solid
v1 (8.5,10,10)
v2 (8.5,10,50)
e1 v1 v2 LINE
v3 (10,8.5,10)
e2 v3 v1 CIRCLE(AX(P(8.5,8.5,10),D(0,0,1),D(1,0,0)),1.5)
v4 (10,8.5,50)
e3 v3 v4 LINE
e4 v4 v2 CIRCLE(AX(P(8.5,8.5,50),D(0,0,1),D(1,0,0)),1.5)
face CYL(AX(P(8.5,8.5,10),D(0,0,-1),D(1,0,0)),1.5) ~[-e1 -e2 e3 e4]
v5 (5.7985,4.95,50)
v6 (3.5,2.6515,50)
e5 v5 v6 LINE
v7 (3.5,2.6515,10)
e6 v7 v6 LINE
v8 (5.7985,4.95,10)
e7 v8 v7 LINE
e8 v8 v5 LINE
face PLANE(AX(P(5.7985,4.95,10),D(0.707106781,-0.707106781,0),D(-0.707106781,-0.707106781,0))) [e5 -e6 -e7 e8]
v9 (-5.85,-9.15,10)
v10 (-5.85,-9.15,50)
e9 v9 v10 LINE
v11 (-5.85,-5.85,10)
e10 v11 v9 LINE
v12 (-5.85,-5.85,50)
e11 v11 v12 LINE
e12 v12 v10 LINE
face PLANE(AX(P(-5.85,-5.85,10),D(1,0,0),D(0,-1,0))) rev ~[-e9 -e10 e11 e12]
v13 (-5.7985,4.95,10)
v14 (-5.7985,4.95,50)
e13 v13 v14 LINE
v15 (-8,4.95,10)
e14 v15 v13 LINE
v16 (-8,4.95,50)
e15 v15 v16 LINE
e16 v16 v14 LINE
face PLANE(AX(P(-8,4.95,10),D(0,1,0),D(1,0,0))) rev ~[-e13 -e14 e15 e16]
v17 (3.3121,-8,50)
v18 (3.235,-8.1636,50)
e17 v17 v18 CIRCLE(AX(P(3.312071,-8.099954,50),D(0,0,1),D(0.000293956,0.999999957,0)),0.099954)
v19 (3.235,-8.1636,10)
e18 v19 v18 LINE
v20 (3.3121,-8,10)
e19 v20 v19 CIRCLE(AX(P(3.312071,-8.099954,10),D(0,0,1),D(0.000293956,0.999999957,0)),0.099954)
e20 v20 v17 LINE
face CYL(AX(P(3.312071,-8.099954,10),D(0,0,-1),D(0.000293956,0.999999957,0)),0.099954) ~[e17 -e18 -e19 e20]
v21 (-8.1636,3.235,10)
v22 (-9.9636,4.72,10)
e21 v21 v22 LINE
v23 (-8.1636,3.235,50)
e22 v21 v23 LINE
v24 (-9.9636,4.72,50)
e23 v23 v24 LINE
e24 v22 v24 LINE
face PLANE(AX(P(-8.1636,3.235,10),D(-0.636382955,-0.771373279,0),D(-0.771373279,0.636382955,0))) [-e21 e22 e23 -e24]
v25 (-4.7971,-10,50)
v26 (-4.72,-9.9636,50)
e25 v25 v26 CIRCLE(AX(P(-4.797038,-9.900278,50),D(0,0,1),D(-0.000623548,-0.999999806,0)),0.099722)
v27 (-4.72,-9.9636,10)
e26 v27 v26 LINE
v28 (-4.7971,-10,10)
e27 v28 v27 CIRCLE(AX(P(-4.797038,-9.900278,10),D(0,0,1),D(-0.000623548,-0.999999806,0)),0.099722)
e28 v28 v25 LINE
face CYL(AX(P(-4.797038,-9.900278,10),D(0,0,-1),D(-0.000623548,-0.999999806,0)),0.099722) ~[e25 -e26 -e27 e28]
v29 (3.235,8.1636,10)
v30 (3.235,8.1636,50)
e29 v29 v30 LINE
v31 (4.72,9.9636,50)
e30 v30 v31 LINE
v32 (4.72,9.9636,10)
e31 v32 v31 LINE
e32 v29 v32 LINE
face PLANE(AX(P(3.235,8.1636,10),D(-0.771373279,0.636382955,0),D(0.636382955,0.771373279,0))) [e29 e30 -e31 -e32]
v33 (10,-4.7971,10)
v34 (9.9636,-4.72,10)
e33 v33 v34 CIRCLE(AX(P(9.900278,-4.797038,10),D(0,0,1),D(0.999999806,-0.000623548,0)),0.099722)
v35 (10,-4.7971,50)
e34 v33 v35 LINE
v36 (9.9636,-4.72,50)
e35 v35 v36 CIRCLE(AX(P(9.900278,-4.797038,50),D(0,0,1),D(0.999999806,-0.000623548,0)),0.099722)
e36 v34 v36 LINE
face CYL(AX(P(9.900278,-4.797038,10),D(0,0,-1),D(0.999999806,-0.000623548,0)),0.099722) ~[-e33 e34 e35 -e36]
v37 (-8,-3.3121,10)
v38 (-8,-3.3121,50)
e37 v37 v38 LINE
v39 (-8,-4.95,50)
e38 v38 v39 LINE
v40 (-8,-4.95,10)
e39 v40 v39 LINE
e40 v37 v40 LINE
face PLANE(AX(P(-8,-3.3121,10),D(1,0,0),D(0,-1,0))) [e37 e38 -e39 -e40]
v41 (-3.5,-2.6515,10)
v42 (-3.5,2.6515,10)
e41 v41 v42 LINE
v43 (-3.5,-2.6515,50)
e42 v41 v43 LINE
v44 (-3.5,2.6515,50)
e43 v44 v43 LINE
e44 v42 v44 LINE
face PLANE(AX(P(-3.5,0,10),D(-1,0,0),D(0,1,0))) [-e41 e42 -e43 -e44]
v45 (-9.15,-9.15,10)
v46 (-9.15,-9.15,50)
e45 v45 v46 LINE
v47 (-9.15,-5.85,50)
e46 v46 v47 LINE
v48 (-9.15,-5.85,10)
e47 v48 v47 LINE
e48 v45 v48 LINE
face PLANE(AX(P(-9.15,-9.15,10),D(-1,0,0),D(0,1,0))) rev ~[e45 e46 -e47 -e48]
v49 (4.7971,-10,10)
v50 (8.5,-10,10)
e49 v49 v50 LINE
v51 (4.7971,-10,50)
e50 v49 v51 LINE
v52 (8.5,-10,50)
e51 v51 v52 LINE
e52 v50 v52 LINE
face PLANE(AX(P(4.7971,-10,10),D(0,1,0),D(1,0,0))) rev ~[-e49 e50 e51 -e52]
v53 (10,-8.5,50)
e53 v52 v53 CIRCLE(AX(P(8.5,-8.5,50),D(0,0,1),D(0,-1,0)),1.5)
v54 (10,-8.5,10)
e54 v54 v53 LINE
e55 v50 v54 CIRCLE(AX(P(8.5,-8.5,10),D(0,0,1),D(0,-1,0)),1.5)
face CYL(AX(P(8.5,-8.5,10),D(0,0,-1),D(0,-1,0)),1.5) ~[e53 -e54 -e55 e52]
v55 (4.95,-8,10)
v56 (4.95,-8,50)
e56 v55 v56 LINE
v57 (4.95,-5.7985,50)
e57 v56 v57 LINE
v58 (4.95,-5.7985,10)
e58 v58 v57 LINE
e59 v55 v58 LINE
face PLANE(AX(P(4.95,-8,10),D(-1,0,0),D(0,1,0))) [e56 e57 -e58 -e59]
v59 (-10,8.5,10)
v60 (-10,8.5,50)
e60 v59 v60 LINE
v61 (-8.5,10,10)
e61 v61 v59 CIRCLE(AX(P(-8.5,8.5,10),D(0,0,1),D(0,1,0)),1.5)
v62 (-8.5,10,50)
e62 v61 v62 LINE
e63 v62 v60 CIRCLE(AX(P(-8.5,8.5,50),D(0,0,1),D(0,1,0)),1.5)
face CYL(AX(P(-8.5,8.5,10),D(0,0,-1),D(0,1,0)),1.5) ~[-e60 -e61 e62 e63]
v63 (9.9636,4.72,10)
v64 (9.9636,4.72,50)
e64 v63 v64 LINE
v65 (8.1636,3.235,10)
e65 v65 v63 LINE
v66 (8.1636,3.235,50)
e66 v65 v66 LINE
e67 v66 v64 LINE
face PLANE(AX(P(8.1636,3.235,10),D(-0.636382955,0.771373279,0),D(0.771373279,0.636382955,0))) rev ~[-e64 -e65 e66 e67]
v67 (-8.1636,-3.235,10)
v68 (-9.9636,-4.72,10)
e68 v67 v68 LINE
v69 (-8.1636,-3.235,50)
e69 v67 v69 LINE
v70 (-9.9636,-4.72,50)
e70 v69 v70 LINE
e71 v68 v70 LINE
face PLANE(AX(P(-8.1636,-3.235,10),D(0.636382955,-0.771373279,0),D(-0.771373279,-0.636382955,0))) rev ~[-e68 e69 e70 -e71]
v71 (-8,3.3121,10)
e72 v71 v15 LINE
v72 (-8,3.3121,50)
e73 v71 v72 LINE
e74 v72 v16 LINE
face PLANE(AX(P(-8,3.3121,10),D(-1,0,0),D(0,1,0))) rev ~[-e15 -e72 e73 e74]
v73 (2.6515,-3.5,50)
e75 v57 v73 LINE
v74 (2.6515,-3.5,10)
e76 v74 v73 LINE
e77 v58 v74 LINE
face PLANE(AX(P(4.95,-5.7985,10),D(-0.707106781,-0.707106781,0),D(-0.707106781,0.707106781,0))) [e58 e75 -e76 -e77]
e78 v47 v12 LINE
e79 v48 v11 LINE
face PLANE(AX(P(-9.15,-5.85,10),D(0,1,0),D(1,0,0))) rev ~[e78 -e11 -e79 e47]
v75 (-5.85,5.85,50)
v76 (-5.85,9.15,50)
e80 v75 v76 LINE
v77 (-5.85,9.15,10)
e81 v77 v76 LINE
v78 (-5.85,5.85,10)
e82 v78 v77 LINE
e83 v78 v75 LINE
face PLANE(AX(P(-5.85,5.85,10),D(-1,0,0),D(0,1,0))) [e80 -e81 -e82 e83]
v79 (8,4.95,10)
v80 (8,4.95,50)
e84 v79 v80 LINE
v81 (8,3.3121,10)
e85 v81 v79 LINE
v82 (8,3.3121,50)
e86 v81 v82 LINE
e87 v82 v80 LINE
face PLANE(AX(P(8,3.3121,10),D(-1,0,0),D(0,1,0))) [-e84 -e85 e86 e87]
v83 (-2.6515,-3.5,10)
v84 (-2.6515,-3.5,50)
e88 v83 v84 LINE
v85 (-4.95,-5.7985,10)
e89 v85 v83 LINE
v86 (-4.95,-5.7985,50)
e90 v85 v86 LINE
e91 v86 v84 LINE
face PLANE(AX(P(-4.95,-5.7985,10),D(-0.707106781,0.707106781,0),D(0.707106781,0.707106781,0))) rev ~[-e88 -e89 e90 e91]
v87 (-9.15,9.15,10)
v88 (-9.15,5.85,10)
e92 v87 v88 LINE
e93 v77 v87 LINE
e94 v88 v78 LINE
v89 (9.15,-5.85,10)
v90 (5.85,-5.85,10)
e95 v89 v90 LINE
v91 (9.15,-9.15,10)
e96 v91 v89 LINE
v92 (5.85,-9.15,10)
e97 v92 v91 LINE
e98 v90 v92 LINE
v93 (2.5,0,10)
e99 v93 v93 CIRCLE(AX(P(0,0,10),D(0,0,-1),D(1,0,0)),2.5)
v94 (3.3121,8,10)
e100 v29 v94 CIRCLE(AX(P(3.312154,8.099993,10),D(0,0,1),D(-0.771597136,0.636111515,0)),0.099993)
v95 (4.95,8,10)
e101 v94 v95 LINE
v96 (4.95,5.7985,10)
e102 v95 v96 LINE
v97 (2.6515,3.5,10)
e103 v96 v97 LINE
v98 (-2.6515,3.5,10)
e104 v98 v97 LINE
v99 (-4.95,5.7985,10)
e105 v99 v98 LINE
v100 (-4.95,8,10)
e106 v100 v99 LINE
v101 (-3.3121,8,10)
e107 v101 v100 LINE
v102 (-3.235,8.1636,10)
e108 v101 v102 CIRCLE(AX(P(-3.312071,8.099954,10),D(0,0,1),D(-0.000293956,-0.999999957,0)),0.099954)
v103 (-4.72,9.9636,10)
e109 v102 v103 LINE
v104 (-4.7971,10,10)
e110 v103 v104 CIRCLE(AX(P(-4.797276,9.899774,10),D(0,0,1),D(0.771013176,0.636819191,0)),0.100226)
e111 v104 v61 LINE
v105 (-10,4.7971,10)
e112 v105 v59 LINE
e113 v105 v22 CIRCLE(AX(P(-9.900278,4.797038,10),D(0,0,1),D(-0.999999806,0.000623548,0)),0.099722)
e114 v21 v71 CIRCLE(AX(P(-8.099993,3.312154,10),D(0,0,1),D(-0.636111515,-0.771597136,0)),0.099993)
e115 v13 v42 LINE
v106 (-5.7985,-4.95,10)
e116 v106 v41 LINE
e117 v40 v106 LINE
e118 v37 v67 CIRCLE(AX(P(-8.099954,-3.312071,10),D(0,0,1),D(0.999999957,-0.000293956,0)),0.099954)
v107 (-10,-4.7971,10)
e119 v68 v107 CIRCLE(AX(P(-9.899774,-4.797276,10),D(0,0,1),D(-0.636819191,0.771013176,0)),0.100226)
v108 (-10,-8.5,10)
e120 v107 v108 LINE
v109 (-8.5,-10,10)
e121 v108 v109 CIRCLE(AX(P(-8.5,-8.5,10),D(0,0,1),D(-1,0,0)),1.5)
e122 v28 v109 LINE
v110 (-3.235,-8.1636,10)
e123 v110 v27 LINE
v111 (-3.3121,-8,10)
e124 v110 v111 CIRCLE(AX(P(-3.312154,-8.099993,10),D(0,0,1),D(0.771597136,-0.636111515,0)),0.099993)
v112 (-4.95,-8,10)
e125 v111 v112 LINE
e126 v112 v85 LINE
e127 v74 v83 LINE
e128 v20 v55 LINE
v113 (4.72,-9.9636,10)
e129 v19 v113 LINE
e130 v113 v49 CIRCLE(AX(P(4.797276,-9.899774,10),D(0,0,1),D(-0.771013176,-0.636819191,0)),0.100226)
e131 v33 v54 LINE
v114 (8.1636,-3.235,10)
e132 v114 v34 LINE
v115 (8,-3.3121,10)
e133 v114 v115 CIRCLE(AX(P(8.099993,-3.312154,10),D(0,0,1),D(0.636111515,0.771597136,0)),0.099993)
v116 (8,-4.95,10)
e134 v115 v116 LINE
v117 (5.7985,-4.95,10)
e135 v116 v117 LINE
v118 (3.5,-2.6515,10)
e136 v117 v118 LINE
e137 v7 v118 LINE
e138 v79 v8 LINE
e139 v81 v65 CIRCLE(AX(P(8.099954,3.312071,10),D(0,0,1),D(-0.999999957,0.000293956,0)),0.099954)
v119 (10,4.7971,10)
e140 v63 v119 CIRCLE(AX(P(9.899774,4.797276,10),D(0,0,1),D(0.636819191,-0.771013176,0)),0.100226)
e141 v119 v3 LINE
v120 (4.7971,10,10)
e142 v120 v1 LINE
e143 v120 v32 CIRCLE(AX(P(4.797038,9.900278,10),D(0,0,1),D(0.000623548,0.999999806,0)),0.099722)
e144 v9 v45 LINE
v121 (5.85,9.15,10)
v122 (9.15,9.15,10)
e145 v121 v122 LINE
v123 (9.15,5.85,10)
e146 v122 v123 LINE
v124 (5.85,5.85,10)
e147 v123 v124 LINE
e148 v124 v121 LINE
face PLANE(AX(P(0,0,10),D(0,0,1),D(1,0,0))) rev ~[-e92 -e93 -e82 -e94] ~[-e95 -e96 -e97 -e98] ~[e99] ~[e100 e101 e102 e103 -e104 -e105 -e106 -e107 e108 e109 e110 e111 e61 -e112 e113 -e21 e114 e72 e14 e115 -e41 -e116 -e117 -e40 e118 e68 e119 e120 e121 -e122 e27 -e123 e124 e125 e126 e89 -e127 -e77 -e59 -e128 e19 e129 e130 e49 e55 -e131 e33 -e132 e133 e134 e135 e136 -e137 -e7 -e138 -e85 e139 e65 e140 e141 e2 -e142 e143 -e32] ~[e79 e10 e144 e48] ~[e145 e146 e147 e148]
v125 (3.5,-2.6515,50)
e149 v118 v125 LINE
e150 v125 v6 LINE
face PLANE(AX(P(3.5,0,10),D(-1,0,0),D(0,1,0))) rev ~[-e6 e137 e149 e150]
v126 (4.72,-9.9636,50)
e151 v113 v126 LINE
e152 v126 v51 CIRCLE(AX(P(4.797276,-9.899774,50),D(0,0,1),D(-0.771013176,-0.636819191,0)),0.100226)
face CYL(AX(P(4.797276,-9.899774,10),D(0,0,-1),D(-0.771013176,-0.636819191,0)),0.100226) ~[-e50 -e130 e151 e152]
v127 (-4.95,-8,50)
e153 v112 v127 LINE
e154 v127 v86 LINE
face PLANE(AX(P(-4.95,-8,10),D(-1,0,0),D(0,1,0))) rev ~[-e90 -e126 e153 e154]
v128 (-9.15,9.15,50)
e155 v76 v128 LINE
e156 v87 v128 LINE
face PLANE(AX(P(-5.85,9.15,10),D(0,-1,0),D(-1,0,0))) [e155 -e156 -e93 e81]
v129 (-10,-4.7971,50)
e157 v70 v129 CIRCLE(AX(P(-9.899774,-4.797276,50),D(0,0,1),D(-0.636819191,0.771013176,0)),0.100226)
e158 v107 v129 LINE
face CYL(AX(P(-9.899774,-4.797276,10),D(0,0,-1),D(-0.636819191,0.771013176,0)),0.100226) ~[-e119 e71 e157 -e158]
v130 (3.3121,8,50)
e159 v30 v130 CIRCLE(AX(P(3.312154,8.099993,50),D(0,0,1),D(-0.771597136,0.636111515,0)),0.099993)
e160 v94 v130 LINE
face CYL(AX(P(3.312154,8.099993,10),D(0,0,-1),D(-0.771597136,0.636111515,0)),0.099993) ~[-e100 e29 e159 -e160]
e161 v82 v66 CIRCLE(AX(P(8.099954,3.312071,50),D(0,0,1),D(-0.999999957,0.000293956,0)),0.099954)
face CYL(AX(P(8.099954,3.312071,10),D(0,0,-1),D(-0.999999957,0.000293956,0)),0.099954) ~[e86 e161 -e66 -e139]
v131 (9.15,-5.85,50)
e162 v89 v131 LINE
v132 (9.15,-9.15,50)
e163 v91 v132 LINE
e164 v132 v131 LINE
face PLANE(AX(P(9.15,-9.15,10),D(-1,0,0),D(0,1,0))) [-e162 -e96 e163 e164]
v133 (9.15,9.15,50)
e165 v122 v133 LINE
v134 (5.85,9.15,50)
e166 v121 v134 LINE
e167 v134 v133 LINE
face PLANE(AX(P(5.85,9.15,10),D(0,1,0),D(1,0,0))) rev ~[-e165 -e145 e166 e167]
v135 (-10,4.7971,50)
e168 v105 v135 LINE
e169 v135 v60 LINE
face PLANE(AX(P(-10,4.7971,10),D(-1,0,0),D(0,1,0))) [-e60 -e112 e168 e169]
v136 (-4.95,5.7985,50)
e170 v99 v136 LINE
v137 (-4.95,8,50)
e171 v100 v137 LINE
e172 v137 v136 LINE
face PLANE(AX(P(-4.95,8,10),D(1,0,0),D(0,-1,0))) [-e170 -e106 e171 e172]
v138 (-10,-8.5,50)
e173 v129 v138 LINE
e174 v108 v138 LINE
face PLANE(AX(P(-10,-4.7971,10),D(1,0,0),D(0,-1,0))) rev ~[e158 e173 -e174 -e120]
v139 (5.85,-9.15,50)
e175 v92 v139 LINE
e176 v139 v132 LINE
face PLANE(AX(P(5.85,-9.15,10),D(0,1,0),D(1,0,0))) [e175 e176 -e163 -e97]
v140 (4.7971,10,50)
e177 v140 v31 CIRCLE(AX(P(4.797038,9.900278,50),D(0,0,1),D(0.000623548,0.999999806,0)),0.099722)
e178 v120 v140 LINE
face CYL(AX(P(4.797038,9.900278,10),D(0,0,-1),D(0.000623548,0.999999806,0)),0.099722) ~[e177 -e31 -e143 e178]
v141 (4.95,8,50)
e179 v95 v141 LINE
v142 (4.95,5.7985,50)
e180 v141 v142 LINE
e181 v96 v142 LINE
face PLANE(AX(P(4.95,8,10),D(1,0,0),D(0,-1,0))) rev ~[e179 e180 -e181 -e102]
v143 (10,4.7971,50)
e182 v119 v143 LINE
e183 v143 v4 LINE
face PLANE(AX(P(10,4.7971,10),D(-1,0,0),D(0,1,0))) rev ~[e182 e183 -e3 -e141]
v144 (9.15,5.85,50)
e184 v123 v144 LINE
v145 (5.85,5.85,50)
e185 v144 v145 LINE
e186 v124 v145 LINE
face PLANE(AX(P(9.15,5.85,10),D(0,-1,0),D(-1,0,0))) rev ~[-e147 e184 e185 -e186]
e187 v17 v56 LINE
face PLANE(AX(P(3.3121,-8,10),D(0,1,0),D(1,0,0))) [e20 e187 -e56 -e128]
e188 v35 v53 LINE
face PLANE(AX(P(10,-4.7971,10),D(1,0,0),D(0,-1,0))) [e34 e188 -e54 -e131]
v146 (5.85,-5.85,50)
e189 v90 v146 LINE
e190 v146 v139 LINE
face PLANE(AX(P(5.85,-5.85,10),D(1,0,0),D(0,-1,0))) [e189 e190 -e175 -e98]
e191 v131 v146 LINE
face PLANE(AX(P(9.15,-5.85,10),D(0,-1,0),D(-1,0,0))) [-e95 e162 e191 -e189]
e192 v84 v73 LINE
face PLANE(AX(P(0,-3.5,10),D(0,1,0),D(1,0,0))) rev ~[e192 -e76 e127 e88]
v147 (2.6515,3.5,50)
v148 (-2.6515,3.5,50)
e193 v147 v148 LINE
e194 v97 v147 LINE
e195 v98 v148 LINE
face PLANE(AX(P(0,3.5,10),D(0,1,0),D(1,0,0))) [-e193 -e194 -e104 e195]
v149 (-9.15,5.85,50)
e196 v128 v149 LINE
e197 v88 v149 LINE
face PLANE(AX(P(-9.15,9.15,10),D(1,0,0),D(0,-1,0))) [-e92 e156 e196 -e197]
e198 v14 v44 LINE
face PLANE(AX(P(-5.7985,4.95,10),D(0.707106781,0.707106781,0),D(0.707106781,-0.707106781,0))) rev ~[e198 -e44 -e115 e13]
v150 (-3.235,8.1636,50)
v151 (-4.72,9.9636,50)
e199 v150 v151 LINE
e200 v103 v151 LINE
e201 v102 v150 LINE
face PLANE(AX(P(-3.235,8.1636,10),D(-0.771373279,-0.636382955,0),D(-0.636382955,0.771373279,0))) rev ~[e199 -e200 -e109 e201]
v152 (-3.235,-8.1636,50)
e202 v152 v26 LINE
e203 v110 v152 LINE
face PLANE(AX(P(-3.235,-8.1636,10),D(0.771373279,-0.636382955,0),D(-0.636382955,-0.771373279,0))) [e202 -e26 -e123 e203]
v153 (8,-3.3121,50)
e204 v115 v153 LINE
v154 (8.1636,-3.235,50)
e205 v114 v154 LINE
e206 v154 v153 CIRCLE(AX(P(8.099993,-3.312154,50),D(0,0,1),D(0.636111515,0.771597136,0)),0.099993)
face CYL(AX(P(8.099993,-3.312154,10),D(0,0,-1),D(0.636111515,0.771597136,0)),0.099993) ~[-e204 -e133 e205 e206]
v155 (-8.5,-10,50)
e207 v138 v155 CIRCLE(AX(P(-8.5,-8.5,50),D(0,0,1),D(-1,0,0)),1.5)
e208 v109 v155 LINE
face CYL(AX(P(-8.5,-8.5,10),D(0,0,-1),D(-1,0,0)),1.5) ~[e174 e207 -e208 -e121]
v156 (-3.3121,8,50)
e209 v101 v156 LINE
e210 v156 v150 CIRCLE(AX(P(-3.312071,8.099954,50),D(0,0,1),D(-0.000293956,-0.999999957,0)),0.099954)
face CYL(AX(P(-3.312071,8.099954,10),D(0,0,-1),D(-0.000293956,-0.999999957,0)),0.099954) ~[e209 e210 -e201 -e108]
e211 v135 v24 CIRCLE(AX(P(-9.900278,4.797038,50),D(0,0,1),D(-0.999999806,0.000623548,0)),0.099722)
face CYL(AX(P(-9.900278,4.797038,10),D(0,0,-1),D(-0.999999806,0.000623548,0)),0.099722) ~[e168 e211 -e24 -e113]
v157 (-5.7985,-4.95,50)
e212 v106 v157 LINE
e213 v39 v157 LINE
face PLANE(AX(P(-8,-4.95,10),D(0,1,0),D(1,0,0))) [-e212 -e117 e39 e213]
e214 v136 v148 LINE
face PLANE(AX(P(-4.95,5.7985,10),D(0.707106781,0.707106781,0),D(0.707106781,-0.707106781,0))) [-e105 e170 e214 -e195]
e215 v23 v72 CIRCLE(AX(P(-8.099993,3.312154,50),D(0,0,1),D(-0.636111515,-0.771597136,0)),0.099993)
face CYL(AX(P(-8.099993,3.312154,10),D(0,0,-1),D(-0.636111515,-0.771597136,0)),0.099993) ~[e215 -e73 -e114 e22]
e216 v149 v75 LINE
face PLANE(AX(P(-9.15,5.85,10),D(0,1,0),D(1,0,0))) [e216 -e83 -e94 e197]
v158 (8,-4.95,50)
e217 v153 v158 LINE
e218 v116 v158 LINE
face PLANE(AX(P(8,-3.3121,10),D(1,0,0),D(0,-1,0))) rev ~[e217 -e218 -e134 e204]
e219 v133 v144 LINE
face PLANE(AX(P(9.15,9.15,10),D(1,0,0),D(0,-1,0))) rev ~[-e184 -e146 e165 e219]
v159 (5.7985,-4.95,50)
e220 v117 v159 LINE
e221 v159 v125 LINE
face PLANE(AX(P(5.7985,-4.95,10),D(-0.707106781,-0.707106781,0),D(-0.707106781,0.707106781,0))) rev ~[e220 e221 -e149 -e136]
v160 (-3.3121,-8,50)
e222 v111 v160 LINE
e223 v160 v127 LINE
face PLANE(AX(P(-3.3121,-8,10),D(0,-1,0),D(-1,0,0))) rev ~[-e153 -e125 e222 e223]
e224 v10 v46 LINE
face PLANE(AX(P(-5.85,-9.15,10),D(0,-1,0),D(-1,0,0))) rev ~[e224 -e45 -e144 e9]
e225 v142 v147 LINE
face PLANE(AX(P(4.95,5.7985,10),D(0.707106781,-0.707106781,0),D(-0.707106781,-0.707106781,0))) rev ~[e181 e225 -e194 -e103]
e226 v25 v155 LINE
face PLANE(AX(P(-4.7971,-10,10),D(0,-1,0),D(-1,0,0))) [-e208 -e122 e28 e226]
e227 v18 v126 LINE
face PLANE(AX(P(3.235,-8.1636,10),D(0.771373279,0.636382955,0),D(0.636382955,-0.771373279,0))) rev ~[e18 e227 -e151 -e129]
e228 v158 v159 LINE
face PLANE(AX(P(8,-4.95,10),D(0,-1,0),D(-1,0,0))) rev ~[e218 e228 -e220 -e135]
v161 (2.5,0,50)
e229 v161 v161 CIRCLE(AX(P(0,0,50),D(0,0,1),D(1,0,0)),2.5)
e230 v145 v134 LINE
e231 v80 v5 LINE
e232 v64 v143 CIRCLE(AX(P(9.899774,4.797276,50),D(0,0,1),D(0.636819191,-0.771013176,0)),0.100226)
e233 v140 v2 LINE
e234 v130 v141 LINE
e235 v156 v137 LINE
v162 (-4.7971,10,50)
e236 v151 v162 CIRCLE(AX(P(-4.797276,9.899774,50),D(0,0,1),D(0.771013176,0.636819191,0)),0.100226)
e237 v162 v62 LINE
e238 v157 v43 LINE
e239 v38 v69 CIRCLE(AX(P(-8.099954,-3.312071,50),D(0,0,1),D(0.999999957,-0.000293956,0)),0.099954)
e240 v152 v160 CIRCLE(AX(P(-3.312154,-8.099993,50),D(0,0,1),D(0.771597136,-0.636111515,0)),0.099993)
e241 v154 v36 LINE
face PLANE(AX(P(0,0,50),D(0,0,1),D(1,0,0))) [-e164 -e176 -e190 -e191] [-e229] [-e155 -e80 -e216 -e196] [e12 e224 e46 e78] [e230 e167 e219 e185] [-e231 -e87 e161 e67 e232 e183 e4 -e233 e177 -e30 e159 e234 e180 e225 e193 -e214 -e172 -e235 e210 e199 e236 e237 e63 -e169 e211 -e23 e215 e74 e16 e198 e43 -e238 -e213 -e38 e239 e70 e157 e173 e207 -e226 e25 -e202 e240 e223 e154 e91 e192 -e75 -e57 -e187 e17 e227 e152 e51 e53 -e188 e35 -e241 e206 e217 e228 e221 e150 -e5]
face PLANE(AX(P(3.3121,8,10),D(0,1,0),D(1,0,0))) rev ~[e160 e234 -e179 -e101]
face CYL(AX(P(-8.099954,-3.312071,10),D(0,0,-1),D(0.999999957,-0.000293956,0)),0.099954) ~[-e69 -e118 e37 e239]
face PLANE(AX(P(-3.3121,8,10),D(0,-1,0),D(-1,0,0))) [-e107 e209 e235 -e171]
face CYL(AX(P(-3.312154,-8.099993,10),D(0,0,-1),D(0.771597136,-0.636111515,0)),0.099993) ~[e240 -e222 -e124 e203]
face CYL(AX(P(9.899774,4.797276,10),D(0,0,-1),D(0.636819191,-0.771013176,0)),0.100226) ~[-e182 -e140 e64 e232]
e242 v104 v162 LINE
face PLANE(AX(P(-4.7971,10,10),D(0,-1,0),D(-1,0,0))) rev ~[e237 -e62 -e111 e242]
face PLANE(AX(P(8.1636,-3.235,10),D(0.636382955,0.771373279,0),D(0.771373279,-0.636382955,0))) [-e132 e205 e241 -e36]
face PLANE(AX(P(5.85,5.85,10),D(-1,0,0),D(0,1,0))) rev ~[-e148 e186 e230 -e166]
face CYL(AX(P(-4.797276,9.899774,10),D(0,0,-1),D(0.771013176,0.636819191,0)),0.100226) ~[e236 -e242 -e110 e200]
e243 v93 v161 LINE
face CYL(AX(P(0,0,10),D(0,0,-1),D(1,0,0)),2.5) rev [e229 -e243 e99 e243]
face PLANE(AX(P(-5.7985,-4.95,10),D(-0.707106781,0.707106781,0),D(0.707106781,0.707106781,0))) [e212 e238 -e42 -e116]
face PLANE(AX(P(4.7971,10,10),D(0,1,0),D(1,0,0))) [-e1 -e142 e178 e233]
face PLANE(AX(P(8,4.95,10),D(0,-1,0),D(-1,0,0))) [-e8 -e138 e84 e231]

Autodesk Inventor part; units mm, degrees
ref_plane "Начальная плоскость" through (0, 0, 10) normal (0, 0, 1) x (1, 0, 0)
ref_plane "Конечная плоскость" through (0, 0, 50) normal (0, 0, 1) x (1, 0, 0)
sketch "Эскиз" plane through (0, 0, 0) normal (0, 0, 1) x (1, 0, 0)
  line L0 (-14.4349, 0) -> (14.4349, 0) projected
  line L1 (0, -14) -> (0, 14) projected
  line L2 (0, 0) -> (7.5, 7.5) construction
  circle A0 centre (7.5, 7.5) radius 1.65 construction
  line L3 (5.85, 9.15) -> (9.15, 9.15)
  line L4 (9.15, 9.15) -> (9.15, 5.85)
  line L5 (9.15, 5.85) -> (5.85, 5.85)
  line L6 (5.85, 5.85) -> (5.85, 9.15)
  line L7 (3.235, 8.1636) -> (4.72, 9.9636)
  line L8 (4.7971, 10) -> (8.5, 10)
  line L9 (3.3121, 8) -> (4.95, 8)
  line L10 (4.95, 8) -> (4.95, 5.7985)
  line L11 (4.95, 5.7985) -> (2.6515, 3.5)
  line L12 (0, 3.5) -> (2.6515, 3.5)
  circle A1 centre (0, 0) radius 2.5
  line L13 (8.1636, 3.235) -> (9.9636, 4.72)
  line L14 (10, 4.7971) -> (10, 8.5)
  line L15 (8, 3.3121) -> (8, 4.95)
  line L16 (8, 4.95) -> (5.7985, 4.95)
  line L17 (5.7985, 4.95) -> (3.5, 2.6515)
  line L18 (3.5, 0) -> (3.5, 2.6515)
  arc A2 (10, 8.5) -> (8.5, 10) centre (8.5, 8.5) ccw
  line L19 (0, 0) -> (-7.5, 7.5) construction
  circle A3 centre (-7.5, 7.5) radius 1.65 construction
  line L20 (-5.85, 9.15) -> (-9.15, 9.15)
  line L21 (-9.15, 9.15) -> (-9.15, 5.85)
  line L22 (-9.15, 5.85) -> (-5.85, 5.85)
  line L23 (-5.85, 5.85) -> (-5.85, 9.15)
  line L24 (-3.235, 8.1636) -> (-4.72, 9.9636)
  line L25 (-4.7971, 10) -> (-8.5, 10)
  line L26 (-3.3121, 8) -> (-4.95, 8)
  line L27 (-4.95, 8) -> (-4.95, 5.7985)
  line L28 (-4.95, 5.7985) -> (-2.6515, 3.5)
  line L29 (0, 3.5) -> (-2.6515, 3.5)
  line L30 (-3.5, 0) -> (-3.5, 2.6515)
  line L31 (-5.7985, 4.95) -> (-3.5, 2.6515)
  line L32 (-8, 4.95) -> (-5.7985, 4.95)
  line L33 (-8, 3.3121) -> (-8, 4.95)
  line L34 (-8.1636, 3.235) -> (-9.9636, 4.72)
  line L35 (-10, 4.7971) -> (-10, 8.5)
  arc A4 (-8.5, 10) -> (-10, 8.5) centre (-8.5, 8.5) ccw
  line L36 (0, 14) -> (0, -14)
  line L37 (0, 0) -> (7.5, -7.5) construction
  circle A5 centre (7.5, -7.5) radius 1.65 construction
  line L38 (5.85, -9.15) -> (9.15, -9.15)
  line L39 (9.15, -9.15) -> (9.15, -5.85)
  line L40 (9.15, -5.85) -> (5.85, -5.85)
  line L41 (5.85, -5.85) -> (5.85, -9.15)
  line L42 (3.235, -8.1636) -> (4.72, -9.9636)
  line L43 (4.7971, -10) -> (8.5, -10)
  line L44 (3.3121, -8) -> (4.95, -8)
  line L45 (4.95, -8) -> (4.95, -5.7985)
  line L46 (4.95, -5.7985) -> (2.6515, -3.5)
  line L47 (0, -3.5) -> (2.6515, -3.5)
  line L48 (3.5, 0) -> (3.5, -2.6515)
  line L49 (5.7985, -4.95) -> (3.5, -2.6515)
  line L50 (8, -4.95) -> (5.7985, -4.95)
  line L51 (8, -3.3121) -> (8, -4.95)
  line L52 (8.1636, -3.235) -> (9.9636, -4.72)
  line L53 (10, -4.7971) -> (10, -8.5)
  arc A6 (8.5, -10) -> (10, -8.5) centre (8.5, -8.5) ccw
  line L54 (0, 0) -> (-7.5, -7.5) construction
  line L55 (-4.95, -8) -> (-4.95, -5.7985)
  line L56 (-3.3121, -8) -> (-4.95, -8)
  line L57 (-5.7985, -4.95) -> (-3.5, -2.6515)
  line L58 (-4.95, -5.7985) -> (-2.6515, -3.5)
  line L59 (-3.5, 0) -> (-3.5, -2.6515)
  line L60 (0, -3.5) -> (-2.6515, -3.5)
  circle A7 centre (-7.5, -7.5) radius 1.65 construction
  line L61 (-5.85, -5.85) -> (-5.85, -9.15)
  line L62 (-5.85, -9.15) -> (-9.15, -9.15)
  line L63 (-9.15, -9.15) -> (-9.15, -5.85)
  line L64 (-9.15, -5.85) -> (-5.85, -5.85)
  line L65 (-3.235, -8.1636) -> (-4.72, -9.9636)
  line L66 (-8, -4.95) -> (-5.7985, -4.95)
  line L67 (-8, -3.3121) -> (-8, -4.95)
  line L68 (-8.1636, -3.235) -> (-9.9636, -4.72)
  line L69 (-4.7971, -10) -> (-8.5, -10)
  line L70 (-10, -4.7971) -> (-10, -8.5)
  arc A8 (-10, -8.5) -> (-8.5, -10) centre (-8.5, -8.5) ccw
  arc A9 (3.235, 8.1636) -> (3.3121, 8) centre (3.3121, 8.1) ccw
  arc A10 (4.7971, 10) -> (4.72, 9.9636) centre (4.7971, 9.9) ccw
  arc A11 (8, 3.3121) -> (8.1636, 3.235) centre (8.1, 3.3121) ccw
  arc A12 (9.9636, 4.72) -> (10, 4.7971) centre (9.9, 4.7971) ccw
  arc A13 (-3.3121, 8) -> (-3.235, 8.1636) centre (-3.3121, 8.1) ccw
  arc A14 (-4.72, 9.9636) -> (-4.7971, 10) centre (-4.7971, 9.9) ccw
  arc A15 (-8.1636, 3.235) -> (-8, 3.3121) centre (-8.1, 3.3121) ccw
  arc A16 (-10, 4.7971) -> (-9.9636, 4.72) centre (-9.9, 4.7971) ccw
  arc A17 (-8, -3.3121) -> (-8.1636, -3.235) centre (-8.1, -3.3121) ccw
  arc A18 (-9.9636, -4.72) -> (-10, -4.7971) centre (-9.9, -4.7971) ccw
  arc A19 (-3.235, -8.1636) -> (-3.3121, -8) centre (-3.3121, -8.1) ccw
  arc A20 (-4.7971, -10) -> (-4.72, -9.9636) centre (-4.7971, -9.9) ccw
  arc A21 (4.72, -9.9636) -> (4.7971, -10) centre (4.7971, -9.9) ccw
  arc A22 (3.3121, -8) -> (3.235, -8.1636) centre (3.3121, -8.1) ccw
  arc A23 (8.1636, -3.235) -> (8, -3.3121) centre (8.1, -3.3121) ccw
  arc A24 (10, -4.7971) -> (9.9636, -4.72) centre (9.9, -4.7971) ccw
  point P0 (3.1, 8)
  point P1 (4.75, 10)
  point P2 (7.5, 9.15)
  point P3 (8, 3.1)
  point P4 (10, 4.75)
  point P5 (7.5, 5.85)
  point P6 (9.15, 7.5)
  point P7 (-3.1, 8)
  point P8 (-4.75, 10)
  point P9 (-7.5, 9.15)
  point P10 (-8, 3.1)
  point P11 (-10, 4.75)
  point P12 (-7.5, 5.85)
  point P13 (-9.15, 7.5)
  point P14 (3.1, -8)
  point P15 (4.75, -10)
  point P16 (7.5, -9.15)
  point P17 (8, -3.1)
  point P18 (10, -4.75)
  point P19 (7.5, -5.85)
  point P20 (9.15, -7.5)
  point P21 (-3.1, -8)
  point P22 (-7.5, -5.85)
  point P23 (-7.5, -9.15)
  point P24 (-9.15, -7.5)
  point P25 (-4.75, -10)
  point P26 (-8, -3.1)
  point P27 (-10, -4.75)
  dimension "d0" = 45
  dimension "d1" = 3.3
  dimension "d2" = 1.5
  dimension "d3" = 1.2
  dimension "d4" = 5
  dimension "d5" = 6.5
  dimension "d6" = 15
  dimension "d7" = 20
  dimension "d8" = 9.9
  dimension "d9" = 9.5
  dimension "d10" = 6.2
  dimension "d11" = 2
  dimension "d18" = 0.1
  dimension "d19" = 0.1
extrude "Тело" add sketch "Эскиз" along normal up to surface (40 mm away) from surface at 10 contours A1 L1 L12 L11 L10 L9 A9 L7 A10 L8 A2 L14 A12 L13 A11 L15 L16 L17 L18 L0 | L0 L48 L49 L50 L51 A23 L52 A24 L53 A6 L43 A21 L42 A22 L44 L45 L46 L47 L1 A1 | A1 L0 L30 L31 L32 L33 A15 L34 A16 L35 A4 L25 A14 L24 A13 L26 L27 L28 L29 L1 | L1 L60 L58 L55 L56 A19 L65 A20 L69 A8 L70 A18 L68 A17 L67 L66 L57 L59 L0 A1
sketch "Эскиз2" plane through (0, 0, 0) normal (0, 0, 1) x (1, 0, 0)
  line L0 (0, 0) -> (10, 0)
ref_plane "РабПлоскость3" through (0, 0, 0) normal (0, -1, 0) x (1, 0, 0)
sketch "Эскиз3" plane through (0, 0, 0) normal (0, -1, 0) x (1, 0, 0)
  line L0 (-2, 10) -> (12, 10)
  line L1 (-2, 50) -> (12, 50)
  dimension "d25" = 40
ref_plane "РабПлоскость4" through (0, 10, 10) normal (0, 0, -1) x (-1, 0, 0)
split "Разделение1" plane through (0, 10, 10) removes the side toward (0, 0, -1)
ref_plane "РабПлоскость5" through (590, 0, 10) normal (0, 0, -1) x (-1, 0, 0)
split "Разделение2" plane through (590, 0, 10) removes the side toward (0, 0, -1)
ref_plane "РабПлоскость6" through (0, -300, 50) normal (0, 0, 1) x (1, 0, 0)
split "Разделение3" plane through (0, -300, 50) removes the side toward (0, 0, 1)
ref_plane "РабПлоскость7" through (10, 0, 50) normal (0, 0, 1) x (1, 0, 0)
split "Разделение4" plane through (10, 0, 50) removes the side toward (0, 0, 1)
properties part number "короткая палка" material "Алюминий 6061"
